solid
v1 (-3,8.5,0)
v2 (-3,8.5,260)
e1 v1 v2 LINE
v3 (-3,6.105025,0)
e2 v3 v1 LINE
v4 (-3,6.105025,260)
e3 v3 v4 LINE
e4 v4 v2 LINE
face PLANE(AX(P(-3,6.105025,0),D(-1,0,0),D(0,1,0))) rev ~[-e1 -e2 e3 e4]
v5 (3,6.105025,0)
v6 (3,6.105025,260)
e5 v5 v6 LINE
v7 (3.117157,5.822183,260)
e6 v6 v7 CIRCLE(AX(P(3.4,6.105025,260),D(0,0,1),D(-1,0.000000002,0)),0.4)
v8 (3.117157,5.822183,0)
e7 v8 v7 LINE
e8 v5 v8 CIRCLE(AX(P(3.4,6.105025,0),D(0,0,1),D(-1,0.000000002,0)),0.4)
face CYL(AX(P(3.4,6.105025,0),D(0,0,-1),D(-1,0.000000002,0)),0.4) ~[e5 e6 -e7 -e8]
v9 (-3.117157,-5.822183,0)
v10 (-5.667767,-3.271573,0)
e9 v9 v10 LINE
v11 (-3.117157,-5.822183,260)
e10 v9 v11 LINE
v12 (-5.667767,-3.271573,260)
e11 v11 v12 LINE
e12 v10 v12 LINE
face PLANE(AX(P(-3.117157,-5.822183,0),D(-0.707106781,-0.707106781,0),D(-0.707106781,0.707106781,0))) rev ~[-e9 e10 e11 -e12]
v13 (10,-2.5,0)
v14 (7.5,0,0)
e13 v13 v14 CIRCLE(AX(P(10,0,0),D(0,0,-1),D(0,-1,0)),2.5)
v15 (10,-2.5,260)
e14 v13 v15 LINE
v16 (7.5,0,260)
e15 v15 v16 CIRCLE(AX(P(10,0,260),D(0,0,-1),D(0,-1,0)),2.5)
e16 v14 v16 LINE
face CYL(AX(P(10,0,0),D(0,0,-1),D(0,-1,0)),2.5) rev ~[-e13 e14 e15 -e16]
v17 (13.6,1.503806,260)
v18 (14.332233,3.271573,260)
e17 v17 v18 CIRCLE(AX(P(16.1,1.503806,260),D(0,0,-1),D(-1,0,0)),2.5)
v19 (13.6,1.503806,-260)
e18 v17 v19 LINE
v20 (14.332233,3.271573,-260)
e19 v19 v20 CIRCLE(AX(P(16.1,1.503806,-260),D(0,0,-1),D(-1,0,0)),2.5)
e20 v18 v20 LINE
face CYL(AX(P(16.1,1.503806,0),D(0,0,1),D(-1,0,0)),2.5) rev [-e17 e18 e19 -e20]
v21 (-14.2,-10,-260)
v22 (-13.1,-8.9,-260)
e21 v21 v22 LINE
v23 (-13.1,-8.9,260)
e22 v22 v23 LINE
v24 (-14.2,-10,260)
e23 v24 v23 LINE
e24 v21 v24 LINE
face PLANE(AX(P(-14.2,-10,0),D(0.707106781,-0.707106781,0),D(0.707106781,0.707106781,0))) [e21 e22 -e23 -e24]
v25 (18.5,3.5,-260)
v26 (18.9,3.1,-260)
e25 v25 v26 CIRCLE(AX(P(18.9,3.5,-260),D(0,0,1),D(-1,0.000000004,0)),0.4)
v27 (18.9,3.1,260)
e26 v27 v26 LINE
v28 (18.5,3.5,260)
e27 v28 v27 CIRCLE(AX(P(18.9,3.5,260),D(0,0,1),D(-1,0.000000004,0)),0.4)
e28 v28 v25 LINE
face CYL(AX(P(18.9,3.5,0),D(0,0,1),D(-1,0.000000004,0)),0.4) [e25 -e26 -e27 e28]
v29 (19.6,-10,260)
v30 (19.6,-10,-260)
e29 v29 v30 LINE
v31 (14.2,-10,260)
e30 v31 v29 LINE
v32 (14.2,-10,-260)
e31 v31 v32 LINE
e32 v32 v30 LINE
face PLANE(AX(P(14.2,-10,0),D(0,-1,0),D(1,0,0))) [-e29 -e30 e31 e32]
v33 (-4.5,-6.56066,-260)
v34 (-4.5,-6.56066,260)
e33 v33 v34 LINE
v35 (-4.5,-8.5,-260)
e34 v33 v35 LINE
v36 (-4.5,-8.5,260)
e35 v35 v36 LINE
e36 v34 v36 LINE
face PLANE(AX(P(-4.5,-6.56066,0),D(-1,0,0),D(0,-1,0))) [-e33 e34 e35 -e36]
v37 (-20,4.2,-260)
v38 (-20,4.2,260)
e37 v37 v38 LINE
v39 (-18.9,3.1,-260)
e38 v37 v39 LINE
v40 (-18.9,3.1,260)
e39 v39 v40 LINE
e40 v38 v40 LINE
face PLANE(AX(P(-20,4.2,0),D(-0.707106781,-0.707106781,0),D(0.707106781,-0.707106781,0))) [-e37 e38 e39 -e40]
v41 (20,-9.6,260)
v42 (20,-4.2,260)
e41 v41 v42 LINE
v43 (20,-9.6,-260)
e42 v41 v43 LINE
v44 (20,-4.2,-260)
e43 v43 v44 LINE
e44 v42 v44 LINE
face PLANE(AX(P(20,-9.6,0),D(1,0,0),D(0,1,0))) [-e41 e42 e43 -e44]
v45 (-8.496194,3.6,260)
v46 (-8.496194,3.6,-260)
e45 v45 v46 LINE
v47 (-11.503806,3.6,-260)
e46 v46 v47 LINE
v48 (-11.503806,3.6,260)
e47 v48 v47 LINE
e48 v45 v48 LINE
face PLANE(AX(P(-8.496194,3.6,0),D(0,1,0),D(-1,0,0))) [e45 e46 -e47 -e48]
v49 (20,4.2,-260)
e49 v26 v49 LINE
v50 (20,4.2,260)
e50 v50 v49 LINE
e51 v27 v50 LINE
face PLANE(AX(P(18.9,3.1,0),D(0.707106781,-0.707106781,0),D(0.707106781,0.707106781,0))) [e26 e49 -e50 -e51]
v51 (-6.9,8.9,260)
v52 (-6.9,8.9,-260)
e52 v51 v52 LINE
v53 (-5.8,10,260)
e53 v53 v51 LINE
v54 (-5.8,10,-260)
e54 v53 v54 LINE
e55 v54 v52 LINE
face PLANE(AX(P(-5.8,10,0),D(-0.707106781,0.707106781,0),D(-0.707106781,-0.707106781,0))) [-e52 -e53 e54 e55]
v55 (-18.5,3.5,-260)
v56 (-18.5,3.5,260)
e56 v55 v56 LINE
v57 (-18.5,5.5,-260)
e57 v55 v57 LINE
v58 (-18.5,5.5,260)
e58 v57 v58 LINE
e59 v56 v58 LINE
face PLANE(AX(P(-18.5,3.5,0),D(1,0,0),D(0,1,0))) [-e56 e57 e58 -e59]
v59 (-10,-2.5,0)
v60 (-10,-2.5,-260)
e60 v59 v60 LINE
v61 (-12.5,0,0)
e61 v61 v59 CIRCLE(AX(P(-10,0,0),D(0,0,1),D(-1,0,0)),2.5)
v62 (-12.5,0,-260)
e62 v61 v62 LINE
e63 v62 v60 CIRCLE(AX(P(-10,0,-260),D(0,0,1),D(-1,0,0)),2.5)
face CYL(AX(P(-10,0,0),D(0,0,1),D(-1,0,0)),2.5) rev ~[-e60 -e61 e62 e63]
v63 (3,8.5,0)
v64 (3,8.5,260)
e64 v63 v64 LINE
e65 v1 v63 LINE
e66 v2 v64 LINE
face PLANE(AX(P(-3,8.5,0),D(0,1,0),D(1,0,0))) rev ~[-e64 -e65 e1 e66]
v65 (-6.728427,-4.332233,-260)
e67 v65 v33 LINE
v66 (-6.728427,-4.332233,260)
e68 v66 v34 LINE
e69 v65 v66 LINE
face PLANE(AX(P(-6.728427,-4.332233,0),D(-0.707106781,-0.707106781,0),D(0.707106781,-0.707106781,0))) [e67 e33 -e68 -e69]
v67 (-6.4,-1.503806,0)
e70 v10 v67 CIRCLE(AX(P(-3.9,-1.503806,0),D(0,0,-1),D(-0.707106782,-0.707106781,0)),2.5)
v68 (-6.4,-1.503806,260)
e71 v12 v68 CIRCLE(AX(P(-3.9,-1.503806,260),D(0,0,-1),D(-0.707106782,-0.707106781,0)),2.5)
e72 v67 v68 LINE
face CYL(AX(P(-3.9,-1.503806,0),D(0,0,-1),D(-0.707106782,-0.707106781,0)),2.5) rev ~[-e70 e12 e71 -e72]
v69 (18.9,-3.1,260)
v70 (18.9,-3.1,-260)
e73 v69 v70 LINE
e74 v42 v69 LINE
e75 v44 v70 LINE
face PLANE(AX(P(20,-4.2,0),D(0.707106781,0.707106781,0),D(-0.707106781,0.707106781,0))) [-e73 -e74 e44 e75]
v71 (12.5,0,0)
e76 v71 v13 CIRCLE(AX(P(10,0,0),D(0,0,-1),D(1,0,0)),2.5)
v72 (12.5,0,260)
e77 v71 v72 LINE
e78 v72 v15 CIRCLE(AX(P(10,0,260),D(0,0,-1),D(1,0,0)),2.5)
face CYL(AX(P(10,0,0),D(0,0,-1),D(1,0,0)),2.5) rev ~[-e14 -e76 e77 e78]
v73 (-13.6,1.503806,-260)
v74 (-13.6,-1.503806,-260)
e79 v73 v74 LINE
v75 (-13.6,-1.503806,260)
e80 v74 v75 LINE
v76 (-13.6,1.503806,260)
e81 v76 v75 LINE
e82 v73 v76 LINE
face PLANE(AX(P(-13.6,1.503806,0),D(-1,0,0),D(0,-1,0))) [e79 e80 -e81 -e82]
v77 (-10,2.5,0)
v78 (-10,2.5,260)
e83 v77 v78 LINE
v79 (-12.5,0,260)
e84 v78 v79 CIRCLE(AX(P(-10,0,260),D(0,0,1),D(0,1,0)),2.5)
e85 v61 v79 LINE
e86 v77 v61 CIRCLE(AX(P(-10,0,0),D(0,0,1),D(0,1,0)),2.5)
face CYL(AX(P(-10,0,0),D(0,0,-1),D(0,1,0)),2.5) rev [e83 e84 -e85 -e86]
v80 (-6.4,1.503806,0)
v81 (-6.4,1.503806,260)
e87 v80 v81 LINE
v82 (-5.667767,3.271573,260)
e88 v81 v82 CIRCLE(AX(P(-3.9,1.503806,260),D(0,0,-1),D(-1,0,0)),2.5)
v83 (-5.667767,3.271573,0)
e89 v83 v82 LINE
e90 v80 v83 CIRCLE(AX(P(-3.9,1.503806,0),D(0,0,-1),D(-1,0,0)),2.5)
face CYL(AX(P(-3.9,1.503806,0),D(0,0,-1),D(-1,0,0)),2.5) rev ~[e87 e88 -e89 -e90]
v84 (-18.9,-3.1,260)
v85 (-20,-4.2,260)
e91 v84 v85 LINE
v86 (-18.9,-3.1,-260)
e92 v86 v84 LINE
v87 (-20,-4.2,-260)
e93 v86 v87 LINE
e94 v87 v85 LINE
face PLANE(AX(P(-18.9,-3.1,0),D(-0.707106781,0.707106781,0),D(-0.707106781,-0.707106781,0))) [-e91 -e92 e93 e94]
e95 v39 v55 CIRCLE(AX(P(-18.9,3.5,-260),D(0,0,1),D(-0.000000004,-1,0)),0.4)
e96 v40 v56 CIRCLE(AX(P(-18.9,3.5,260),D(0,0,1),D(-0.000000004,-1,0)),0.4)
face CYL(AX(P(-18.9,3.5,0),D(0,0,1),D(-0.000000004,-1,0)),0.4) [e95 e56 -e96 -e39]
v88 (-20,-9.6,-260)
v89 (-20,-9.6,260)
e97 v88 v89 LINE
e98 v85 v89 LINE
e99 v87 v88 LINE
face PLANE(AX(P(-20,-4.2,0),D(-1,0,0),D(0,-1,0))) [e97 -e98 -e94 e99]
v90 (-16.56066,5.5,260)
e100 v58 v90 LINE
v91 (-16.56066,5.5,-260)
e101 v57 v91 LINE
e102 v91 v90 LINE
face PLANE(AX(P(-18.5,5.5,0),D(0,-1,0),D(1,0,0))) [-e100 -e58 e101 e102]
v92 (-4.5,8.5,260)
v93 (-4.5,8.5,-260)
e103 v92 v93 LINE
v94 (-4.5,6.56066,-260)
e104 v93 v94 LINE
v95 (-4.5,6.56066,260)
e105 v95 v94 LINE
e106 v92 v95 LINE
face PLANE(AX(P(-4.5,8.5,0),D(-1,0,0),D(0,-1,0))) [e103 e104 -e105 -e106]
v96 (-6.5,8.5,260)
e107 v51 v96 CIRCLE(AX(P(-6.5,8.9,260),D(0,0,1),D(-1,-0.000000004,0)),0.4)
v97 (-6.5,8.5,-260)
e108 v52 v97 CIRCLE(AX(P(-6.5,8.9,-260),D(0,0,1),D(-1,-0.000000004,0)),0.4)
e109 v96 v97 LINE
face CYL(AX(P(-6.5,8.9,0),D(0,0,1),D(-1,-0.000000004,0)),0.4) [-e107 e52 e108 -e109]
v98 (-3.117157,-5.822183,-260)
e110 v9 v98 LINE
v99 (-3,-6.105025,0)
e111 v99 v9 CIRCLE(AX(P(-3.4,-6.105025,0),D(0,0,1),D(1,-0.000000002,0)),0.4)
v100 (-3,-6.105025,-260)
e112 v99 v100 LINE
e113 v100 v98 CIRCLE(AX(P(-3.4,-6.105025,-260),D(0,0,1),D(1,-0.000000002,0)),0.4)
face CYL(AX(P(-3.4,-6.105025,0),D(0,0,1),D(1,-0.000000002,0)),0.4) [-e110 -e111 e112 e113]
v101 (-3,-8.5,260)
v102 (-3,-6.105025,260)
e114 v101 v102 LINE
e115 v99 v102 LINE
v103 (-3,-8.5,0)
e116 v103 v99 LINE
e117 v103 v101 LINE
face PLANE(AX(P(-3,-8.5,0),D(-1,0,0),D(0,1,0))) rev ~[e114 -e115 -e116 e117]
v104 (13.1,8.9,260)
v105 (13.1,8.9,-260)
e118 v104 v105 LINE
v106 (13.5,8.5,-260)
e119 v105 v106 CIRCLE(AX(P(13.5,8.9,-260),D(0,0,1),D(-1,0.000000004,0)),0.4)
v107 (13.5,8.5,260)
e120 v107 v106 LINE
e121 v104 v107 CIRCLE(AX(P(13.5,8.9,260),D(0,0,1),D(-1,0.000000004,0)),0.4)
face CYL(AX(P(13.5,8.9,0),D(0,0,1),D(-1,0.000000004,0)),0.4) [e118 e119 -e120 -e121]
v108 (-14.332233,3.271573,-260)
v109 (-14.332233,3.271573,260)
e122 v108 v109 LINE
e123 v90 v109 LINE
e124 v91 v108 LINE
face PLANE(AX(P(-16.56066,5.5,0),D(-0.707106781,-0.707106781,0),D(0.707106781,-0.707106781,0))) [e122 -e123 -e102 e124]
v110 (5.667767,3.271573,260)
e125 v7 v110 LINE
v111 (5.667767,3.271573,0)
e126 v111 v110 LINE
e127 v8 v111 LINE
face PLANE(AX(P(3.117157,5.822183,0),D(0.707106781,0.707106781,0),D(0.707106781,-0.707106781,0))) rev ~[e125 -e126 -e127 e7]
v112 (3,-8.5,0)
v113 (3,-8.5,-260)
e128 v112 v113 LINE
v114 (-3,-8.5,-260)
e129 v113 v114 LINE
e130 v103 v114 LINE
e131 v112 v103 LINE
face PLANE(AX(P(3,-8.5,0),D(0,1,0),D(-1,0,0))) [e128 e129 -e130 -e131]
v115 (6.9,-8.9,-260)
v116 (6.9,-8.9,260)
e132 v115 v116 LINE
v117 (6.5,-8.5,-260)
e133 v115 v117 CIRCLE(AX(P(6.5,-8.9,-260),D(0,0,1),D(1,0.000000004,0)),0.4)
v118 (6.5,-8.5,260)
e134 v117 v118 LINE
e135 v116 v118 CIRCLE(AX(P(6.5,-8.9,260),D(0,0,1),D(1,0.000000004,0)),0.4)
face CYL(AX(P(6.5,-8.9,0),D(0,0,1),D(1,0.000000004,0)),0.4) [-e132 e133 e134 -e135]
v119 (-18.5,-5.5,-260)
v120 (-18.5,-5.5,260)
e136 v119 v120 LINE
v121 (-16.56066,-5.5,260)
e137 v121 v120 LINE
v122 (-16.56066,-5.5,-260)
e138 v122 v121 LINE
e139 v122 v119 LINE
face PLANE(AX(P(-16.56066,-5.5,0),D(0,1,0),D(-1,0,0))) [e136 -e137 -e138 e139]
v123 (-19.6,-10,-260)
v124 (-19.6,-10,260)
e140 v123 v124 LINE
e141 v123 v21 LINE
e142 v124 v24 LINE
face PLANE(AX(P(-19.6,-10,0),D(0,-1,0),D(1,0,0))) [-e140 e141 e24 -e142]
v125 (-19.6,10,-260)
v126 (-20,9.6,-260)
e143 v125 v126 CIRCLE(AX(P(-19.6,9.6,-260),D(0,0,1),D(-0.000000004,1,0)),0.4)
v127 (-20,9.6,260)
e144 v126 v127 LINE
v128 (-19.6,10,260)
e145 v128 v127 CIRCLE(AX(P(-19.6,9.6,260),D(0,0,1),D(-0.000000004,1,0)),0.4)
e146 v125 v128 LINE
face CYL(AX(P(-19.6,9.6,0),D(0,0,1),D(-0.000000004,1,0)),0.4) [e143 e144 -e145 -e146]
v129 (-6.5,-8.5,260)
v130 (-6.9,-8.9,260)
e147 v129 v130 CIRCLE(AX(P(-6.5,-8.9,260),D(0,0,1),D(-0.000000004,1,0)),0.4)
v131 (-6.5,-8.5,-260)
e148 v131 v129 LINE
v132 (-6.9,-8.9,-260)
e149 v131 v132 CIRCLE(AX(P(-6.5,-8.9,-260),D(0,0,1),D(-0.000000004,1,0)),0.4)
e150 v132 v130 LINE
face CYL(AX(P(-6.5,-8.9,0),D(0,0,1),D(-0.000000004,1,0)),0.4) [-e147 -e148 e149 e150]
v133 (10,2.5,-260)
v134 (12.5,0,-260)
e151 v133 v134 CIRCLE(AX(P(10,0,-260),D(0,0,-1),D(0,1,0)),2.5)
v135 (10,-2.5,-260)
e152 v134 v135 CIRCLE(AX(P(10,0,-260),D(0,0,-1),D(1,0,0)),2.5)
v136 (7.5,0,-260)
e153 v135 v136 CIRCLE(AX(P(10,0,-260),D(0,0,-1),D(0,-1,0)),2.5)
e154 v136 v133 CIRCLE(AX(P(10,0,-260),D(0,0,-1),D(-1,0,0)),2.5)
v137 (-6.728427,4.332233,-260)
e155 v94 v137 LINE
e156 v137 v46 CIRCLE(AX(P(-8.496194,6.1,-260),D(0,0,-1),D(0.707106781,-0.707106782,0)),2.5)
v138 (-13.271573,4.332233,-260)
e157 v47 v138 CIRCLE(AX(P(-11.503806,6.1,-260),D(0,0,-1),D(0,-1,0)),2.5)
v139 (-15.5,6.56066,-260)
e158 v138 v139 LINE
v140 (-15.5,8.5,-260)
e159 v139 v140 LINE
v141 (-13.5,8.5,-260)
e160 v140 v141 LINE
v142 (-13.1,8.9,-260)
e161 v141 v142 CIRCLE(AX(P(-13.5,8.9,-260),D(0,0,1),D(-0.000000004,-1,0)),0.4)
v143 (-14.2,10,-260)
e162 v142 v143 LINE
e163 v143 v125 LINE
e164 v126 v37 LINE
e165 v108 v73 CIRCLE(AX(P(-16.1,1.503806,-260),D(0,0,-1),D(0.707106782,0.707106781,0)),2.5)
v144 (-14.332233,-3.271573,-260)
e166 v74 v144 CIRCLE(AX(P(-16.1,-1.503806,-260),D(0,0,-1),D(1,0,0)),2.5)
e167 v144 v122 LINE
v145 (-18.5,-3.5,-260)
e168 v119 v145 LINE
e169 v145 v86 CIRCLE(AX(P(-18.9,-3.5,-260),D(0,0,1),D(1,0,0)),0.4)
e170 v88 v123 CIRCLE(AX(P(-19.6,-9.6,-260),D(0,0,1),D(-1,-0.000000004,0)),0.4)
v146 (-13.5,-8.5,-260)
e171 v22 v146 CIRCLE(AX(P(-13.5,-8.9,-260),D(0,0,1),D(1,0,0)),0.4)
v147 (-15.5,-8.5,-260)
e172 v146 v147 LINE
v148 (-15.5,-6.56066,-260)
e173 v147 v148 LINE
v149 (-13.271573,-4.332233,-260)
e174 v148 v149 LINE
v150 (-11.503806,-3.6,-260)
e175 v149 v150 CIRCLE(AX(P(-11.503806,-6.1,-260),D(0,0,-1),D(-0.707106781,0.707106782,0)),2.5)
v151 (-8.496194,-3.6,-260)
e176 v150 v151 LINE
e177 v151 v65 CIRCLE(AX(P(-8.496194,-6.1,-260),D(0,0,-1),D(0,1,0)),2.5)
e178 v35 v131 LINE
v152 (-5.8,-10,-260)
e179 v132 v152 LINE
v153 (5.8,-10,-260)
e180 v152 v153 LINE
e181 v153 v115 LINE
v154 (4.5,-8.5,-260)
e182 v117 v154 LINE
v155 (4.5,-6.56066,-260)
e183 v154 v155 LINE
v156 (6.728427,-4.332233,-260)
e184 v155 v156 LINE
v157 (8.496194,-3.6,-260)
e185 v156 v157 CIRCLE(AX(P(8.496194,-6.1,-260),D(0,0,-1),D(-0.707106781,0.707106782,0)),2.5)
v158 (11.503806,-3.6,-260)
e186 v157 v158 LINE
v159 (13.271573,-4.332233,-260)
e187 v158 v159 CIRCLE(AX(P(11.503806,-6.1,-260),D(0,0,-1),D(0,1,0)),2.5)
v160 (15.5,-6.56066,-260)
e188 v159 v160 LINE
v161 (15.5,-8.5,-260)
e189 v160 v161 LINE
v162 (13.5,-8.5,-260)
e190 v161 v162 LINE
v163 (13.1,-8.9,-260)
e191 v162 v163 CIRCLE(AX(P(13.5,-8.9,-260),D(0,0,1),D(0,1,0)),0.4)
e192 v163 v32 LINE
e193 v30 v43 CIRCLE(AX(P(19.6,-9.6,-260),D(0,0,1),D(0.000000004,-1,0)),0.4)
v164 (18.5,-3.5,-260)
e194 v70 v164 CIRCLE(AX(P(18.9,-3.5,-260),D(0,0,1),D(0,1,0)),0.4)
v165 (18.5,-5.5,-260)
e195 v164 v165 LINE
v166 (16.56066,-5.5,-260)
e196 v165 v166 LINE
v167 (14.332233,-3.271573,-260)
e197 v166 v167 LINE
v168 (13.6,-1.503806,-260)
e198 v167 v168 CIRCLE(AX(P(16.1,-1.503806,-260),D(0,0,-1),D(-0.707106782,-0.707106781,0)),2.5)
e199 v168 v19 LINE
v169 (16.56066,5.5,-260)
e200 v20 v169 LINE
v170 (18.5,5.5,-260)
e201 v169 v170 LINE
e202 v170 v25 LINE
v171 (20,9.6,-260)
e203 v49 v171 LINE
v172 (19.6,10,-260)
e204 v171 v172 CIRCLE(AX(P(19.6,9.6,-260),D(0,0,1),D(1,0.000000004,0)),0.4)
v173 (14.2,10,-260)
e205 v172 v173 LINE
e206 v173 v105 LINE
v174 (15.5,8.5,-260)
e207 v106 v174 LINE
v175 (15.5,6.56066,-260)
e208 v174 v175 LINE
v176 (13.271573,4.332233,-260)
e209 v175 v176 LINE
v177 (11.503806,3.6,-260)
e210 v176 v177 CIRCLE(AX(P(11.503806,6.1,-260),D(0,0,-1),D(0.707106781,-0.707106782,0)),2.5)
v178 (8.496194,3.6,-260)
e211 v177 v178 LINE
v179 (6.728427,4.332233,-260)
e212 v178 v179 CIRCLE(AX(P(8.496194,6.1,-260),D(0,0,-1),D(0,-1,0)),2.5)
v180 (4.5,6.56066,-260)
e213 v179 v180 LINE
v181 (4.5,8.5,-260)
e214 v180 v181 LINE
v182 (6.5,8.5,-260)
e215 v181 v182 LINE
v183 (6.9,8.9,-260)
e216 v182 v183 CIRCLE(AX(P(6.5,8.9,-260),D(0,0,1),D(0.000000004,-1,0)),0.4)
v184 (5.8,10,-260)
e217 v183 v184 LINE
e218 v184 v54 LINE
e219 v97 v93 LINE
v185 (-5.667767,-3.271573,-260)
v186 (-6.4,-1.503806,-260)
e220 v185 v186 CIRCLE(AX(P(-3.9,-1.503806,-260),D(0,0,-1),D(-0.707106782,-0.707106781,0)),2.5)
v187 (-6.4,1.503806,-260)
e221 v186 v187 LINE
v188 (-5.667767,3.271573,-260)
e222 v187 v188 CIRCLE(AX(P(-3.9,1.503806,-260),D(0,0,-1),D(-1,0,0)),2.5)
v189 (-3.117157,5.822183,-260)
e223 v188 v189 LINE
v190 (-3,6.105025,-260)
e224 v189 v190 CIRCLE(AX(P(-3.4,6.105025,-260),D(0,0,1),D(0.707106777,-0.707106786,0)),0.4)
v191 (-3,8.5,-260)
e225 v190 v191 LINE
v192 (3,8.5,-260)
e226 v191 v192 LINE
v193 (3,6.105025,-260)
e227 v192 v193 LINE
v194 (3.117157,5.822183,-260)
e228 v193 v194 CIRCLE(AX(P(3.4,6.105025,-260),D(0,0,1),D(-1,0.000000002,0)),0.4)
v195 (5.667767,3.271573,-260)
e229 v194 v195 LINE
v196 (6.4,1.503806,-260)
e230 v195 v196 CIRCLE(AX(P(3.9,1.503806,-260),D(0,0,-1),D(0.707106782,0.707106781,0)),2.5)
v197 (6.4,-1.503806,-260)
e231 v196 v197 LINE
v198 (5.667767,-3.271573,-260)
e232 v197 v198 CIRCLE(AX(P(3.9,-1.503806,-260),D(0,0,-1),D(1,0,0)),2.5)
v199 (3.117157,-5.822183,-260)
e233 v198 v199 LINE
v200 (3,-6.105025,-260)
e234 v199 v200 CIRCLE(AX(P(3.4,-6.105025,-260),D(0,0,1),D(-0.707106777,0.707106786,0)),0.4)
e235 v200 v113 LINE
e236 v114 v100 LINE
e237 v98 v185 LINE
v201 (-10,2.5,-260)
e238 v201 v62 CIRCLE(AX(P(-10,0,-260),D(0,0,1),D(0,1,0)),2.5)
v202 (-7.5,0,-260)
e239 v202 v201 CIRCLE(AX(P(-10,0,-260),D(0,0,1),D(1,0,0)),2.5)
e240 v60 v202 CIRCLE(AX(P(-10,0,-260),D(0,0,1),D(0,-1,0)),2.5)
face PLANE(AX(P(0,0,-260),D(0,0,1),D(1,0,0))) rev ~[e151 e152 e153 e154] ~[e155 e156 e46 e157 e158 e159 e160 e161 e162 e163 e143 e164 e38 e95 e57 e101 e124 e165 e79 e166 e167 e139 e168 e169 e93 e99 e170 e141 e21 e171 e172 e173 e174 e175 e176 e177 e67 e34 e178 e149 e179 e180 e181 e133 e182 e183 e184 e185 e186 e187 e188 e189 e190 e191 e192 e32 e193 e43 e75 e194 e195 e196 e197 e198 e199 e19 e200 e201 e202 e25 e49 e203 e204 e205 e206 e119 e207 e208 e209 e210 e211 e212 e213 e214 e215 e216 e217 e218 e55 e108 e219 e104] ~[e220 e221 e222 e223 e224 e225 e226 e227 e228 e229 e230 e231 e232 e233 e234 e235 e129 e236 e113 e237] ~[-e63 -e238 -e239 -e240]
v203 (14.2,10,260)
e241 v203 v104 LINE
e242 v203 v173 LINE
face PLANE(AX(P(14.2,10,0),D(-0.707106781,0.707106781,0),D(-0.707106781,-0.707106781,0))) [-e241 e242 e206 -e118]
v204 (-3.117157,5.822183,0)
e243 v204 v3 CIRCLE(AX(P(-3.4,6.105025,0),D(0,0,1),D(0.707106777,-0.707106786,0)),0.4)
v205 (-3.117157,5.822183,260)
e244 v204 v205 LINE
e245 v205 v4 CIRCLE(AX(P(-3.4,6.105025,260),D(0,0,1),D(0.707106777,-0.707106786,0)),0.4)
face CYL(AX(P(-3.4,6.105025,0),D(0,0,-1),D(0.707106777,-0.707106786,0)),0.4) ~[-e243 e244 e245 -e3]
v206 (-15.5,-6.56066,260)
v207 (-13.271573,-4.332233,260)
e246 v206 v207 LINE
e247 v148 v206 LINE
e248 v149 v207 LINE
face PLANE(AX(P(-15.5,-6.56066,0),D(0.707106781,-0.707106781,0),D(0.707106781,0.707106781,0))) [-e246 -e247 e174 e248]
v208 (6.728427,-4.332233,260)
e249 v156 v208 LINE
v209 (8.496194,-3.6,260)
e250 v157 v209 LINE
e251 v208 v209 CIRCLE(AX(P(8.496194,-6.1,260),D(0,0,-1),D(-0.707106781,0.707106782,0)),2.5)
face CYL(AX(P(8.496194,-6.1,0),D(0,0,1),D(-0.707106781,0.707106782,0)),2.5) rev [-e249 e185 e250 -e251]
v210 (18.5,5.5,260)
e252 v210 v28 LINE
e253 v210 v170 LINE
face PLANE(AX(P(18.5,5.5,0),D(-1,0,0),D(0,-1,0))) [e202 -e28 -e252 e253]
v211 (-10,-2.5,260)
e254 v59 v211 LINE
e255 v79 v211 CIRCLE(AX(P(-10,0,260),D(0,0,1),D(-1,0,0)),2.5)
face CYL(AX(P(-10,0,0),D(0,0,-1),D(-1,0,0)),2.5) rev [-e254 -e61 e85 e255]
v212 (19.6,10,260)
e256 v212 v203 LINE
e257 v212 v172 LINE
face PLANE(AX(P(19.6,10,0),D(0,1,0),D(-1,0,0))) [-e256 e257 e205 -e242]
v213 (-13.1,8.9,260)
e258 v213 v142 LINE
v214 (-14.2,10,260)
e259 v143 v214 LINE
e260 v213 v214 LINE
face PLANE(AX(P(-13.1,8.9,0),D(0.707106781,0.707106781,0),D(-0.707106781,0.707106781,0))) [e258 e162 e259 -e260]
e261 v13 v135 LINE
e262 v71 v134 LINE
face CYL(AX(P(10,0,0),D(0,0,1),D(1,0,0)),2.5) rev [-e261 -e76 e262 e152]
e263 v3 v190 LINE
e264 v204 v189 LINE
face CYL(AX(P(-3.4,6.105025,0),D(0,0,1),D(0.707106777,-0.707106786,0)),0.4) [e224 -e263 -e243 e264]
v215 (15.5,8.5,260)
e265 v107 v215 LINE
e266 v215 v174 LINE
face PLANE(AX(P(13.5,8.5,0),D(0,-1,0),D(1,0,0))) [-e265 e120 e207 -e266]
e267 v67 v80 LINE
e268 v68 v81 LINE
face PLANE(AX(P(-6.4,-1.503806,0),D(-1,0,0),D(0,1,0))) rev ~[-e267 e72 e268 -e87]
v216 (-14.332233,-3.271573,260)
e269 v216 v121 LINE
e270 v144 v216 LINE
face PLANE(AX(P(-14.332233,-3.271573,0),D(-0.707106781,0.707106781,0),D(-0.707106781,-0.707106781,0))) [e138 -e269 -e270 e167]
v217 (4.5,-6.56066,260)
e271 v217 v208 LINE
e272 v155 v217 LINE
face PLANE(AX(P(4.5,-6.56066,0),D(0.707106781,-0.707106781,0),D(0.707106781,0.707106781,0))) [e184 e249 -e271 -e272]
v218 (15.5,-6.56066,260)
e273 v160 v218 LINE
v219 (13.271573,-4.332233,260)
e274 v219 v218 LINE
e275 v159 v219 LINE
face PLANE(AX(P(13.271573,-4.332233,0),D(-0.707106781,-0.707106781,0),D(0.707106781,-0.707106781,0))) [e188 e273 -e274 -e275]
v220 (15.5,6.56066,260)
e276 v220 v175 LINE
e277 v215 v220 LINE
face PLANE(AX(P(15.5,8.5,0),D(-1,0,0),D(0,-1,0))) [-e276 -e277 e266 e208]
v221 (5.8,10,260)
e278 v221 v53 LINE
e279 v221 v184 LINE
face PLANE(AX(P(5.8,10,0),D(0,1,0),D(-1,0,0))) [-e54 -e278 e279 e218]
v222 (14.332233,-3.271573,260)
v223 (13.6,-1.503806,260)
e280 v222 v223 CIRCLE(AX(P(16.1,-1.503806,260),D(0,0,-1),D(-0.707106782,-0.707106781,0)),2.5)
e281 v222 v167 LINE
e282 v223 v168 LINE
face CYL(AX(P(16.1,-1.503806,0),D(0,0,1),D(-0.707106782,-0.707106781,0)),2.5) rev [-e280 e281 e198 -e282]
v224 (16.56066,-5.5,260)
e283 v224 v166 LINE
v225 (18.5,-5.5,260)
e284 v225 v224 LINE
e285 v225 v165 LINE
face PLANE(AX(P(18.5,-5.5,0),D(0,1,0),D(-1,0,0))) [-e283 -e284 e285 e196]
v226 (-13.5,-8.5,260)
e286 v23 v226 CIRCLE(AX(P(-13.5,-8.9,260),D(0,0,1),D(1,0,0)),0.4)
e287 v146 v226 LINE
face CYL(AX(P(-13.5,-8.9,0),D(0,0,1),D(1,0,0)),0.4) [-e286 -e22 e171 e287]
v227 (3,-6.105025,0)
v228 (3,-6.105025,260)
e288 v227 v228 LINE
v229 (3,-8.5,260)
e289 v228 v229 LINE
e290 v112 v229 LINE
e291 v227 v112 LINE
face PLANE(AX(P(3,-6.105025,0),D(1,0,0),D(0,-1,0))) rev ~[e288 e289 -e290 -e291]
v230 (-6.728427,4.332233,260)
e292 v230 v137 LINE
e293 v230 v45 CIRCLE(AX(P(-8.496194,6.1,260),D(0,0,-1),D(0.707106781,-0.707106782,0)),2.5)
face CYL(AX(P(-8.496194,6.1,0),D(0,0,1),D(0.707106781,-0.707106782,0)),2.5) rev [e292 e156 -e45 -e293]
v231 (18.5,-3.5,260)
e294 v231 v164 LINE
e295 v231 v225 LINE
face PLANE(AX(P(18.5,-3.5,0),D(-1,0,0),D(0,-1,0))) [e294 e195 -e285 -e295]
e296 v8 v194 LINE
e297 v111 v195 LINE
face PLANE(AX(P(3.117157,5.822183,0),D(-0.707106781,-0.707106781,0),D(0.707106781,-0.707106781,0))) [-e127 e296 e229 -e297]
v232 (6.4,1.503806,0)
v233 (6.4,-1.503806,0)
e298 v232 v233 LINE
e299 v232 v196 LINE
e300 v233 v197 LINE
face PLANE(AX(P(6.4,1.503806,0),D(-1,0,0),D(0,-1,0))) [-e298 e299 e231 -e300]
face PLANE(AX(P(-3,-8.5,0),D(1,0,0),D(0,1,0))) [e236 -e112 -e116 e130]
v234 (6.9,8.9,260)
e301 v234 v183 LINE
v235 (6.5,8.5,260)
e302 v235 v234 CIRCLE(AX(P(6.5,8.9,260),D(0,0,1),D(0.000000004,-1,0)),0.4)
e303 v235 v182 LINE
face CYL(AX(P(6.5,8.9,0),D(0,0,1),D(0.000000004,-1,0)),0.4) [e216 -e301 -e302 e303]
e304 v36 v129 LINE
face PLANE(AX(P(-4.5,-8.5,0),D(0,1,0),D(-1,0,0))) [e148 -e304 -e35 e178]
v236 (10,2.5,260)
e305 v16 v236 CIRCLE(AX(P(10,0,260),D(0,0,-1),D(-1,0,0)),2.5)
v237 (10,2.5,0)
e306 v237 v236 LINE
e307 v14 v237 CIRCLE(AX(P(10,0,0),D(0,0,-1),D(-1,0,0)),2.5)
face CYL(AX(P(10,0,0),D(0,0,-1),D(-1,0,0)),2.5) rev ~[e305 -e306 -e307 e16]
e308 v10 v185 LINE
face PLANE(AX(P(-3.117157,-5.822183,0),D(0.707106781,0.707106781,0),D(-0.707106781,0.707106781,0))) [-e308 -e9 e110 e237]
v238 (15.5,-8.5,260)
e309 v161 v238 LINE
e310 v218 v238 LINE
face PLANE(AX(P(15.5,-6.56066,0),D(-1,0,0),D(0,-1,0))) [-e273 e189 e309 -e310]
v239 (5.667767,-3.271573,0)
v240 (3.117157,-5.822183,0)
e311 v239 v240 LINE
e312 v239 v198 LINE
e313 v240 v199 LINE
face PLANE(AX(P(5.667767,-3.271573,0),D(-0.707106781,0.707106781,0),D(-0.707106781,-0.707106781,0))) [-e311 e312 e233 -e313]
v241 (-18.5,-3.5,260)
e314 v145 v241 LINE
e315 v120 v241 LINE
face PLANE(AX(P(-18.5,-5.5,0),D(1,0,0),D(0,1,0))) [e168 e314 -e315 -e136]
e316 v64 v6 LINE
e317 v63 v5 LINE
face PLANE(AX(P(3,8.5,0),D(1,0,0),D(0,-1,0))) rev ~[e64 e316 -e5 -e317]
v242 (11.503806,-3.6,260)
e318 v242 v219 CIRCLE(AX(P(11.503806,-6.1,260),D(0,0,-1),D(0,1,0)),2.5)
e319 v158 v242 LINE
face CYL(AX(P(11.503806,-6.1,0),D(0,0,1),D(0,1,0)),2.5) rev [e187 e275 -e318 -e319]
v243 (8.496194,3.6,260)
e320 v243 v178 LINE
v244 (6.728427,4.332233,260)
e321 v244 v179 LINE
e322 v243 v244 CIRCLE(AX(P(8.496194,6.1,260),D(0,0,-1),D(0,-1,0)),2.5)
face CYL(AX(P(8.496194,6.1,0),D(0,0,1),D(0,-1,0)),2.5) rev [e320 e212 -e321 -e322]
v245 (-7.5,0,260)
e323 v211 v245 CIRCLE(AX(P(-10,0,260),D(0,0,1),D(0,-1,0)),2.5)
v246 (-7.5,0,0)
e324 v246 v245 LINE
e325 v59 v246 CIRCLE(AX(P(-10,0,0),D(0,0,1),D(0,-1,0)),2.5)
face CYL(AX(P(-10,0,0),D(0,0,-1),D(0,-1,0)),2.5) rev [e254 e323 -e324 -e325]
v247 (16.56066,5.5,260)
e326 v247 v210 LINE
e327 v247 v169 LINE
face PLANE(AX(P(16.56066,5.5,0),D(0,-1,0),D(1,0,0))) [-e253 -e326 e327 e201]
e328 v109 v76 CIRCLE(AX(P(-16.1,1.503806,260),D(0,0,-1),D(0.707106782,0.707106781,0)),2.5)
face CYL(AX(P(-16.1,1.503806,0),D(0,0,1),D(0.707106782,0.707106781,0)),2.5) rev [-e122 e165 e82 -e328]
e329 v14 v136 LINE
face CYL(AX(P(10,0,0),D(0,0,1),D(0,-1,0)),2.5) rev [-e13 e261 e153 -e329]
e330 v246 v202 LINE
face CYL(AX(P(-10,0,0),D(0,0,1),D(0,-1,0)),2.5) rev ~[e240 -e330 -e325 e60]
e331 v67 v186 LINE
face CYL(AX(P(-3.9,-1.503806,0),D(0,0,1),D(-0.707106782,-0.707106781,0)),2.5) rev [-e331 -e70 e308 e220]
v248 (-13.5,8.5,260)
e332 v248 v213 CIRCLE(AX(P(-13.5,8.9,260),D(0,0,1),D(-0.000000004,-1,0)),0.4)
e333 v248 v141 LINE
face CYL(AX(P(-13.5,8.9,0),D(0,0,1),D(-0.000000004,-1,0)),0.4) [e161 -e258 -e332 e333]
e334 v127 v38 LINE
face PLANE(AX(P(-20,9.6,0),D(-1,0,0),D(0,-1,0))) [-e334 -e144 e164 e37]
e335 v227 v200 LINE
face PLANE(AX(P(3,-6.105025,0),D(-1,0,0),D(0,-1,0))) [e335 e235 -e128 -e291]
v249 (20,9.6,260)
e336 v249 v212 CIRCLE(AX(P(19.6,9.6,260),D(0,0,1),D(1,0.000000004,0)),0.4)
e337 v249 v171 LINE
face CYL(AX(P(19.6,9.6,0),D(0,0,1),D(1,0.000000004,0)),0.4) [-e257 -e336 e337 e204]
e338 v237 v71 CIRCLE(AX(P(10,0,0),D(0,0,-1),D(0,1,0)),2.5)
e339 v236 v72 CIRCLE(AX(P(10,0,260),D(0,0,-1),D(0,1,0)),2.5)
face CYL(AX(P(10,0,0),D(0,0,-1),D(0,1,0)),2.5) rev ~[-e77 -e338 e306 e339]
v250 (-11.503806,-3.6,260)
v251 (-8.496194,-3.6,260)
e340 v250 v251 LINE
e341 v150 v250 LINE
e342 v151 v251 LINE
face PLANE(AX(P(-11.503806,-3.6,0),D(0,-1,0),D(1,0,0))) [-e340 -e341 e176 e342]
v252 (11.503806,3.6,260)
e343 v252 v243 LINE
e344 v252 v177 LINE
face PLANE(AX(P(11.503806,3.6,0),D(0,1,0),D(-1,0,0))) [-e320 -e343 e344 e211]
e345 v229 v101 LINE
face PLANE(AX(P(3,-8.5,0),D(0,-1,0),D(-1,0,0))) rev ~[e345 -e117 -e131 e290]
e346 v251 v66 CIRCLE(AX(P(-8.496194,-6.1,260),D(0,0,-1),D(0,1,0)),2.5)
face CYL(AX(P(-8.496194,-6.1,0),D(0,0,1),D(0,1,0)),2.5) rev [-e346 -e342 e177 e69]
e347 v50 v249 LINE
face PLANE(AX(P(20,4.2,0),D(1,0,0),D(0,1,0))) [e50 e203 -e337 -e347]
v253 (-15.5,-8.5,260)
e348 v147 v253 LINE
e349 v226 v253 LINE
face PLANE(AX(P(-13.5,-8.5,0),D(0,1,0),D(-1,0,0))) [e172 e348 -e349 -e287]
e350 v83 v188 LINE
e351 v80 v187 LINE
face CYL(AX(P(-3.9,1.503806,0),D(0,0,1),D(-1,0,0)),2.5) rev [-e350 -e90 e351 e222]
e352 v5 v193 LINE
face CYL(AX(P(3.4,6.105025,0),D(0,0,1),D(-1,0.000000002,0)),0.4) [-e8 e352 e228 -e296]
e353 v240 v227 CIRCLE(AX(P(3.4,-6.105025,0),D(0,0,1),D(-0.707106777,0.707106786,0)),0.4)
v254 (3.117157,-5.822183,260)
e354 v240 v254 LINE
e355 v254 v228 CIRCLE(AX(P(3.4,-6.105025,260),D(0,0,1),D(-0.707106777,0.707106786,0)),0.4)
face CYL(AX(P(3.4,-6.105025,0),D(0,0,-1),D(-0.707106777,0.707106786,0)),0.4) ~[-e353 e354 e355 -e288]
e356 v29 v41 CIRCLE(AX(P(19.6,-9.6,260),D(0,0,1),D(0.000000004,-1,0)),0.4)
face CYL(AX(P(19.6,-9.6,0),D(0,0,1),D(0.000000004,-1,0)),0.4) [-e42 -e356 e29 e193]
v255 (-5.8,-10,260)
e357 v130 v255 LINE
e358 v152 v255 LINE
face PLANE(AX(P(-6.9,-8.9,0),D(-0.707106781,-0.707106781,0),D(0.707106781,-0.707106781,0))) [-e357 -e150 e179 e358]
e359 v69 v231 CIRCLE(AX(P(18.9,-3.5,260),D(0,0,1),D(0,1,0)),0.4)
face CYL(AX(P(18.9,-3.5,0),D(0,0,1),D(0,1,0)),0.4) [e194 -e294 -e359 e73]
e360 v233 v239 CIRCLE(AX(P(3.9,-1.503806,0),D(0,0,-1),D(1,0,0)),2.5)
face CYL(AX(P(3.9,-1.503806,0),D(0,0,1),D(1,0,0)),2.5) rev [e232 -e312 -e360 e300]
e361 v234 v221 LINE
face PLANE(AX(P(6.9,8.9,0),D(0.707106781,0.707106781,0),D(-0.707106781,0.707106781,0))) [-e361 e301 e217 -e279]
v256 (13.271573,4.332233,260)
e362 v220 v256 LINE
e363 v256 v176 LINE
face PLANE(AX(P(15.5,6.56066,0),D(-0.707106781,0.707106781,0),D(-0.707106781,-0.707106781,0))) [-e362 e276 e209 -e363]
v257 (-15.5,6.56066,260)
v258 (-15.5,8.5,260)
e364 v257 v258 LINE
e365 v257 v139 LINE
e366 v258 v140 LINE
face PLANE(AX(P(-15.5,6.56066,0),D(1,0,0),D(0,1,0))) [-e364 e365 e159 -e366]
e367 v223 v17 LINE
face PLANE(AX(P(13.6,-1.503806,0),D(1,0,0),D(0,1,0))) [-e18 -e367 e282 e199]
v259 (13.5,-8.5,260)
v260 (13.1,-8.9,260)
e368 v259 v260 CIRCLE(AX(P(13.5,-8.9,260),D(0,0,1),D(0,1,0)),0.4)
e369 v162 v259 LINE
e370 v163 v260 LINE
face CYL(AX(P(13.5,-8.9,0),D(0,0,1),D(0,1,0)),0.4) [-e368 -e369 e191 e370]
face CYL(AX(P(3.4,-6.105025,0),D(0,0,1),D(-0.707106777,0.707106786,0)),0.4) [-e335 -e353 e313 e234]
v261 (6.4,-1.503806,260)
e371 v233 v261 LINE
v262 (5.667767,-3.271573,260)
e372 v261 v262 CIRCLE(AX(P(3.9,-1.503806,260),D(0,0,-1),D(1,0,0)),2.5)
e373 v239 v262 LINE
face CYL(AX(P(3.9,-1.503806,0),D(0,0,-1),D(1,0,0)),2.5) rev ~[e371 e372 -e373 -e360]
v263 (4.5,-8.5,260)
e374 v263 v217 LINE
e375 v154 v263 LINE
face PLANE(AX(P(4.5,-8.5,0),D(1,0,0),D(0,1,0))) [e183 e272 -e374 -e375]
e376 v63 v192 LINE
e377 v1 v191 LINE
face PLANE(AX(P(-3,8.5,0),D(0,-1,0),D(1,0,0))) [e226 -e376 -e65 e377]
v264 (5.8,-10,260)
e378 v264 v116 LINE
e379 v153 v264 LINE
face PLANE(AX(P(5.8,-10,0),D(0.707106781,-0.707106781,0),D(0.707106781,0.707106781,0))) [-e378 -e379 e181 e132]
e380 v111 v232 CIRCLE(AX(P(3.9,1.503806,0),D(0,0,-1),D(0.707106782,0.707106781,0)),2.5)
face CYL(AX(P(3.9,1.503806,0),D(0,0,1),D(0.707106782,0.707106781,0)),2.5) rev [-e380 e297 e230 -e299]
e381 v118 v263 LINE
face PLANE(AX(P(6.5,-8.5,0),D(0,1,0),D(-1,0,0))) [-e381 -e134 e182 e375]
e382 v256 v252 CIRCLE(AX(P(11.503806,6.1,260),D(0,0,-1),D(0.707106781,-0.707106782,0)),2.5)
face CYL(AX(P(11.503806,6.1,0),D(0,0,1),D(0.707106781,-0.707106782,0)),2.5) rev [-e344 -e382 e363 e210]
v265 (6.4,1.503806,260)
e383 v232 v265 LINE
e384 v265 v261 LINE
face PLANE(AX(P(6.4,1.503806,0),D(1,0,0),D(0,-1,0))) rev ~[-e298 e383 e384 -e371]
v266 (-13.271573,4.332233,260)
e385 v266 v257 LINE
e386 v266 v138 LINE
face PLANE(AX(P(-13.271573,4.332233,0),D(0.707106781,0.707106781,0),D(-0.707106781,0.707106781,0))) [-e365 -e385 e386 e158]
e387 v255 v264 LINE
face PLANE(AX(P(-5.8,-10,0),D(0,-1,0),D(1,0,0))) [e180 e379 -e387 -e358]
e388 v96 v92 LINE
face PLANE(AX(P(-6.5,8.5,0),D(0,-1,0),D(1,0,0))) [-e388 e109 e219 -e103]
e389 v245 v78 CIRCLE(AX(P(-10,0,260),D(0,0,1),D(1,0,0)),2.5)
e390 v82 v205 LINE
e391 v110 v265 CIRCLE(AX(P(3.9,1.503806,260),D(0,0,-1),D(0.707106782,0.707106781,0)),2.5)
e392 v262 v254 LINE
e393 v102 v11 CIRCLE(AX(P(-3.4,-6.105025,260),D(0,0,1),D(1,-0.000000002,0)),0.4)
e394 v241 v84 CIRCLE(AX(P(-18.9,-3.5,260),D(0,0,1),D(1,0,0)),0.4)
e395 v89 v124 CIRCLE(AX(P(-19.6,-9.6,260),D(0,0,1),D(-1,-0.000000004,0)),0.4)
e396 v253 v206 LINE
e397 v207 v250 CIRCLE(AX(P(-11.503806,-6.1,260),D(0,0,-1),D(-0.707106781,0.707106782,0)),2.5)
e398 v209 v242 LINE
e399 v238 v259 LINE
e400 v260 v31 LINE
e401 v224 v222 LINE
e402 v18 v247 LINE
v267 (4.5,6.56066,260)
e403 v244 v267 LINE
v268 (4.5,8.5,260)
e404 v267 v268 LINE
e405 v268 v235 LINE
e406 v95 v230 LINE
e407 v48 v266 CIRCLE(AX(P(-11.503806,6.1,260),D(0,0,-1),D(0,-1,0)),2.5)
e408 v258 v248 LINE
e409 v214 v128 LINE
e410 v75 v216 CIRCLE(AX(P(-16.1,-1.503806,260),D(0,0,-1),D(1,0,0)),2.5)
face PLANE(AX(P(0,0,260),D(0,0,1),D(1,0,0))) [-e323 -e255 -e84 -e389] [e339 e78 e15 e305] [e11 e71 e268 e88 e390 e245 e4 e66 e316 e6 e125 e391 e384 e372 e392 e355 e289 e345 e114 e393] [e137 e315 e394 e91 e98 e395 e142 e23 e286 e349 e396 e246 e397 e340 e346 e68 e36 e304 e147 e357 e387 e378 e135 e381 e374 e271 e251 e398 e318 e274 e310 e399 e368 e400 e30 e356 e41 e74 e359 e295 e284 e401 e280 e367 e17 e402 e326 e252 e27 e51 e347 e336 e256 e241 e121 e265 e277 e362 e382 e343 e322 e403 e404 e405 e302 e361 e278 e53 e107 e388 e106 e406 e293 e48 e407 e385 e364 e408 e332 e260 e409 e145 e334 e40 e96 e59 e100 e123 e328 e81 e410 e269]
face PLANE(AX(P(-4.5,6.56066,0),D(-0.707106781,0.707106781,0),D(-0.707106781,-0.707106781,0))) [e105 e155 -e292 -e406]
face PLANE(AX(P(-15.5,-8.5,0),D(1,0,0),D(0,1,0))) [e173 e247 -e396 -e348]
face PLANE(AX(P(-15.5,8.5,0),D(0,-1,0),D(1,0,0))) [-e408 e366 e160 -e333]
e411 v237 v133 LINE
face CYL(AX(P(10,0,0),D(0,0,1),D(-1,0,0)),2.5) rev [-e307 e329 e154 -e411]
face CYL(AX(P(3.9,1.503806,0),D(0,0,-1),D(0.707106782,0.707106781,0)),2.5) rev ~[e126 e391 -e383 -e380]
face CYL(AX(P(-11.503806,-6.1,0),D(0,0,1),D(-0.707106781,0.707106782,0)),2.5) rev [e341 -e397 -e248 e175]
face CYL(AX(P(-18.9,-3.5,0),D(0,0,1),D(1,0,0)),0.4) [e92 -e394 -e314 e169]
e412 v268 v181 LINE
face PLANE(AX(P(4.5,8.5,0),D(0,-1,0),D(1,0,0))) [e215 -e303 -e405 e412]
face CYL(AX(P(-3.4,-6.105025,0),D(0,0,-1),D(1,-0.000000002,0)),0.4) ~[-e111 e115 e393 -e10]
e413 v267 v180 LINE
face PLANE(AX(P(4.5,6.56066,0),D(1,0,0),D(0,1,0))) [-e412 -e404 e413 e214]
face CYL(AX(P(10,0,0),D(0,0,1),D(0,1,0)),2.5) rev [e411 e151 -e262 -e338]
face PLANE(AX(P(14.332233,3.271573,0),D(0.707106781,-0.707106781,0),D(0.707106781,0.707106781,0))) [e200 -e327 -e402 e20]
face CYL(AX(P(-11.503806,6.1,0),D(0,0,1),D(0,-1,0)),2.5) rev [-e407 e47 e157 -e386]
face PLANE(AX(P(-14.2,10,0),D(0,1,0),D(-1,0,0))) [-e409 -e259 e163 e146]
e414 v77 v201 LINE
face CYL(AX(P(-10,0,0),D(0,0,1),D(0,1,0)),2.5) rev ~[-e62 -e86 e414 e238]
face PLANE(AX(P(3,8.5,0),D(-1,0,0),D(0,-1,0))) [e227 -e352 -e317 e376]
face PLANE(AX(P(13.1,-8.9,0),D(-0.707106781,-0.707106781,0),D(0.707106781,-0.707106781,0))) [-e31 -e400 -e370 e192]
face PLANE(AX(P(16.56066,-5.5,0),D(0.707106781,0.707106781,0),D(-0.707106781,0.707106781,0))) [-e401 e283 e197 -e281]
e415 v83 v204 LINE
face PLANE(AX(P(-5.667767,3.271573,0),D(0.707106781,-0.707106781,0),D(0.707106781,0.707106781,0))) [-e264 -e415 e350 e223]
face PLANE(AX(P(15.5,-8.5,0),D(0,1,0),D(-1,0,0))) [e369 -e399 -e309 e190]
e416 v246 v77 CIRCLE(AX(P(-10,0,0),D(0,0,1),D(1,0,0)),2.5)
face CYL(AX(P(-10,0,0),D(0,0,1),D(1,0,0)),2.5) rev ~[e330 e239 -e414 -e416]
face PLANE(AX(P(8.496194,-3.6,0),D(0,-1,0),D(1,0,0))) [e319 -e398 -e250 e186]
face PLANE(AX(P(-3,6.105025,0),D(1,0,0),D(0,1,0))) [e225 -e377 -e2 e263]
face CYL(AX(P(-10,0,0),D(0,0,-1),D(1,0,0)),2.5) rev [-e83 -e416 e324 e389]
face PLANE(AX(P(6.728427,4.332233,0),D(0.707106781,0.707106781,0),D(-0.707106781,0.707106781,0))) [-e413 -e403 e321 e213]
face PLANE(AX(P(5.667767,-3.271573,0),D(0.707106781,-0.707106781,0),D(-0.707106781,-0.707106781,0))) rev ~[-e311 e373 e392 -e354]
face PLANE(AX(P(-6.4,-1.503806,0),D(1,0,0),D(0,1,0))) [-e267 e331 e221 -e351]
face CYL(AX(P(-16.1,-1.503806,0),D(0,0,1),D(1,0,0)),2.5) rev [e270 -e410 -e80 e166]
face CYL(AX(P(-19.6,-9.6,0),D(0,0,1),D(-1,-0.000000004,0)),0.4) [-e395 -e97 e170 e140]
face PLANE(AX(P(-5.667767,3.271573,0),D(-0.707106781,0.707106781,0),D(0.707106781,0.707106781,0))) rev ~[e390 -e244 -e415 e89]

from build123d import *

# Parameters (mm, degrees)
RESSALTO_EXTRUS_O1_DEPTH = 260


with BuildPart() as part:
    # Esboço1 → Ressalto-extrusão1 (new body, symmetric)
    with BuildSketch(Plane.XY):
        with BuildLine():
            Line((-13.1, 8.9), (-14.2, 10))
            Line((-14.2, 10), (-19.6, 10))
            ThreePointArc((-19.6, 10), (-19.882842712, 9.882842712), (-20, 9.6))
            Line((-20, 9.6), (-20, 4.2))
            Line((-20, 4.2), (-18.9, 3.1))
            ThreePointArc((-18.9, 3.1), (-18.617157287, 3.217157287), (-18.5, 3.5))
            Line((-18.5, 3.5), (-18.5, 5.5))
            Line((-18.5, 5.5), (-16.560660172, 5.5))
            Line((-16.560660172, 5.5), (-14.332233047, 3.271572875))
            ThreePointArc((-14.332233047, 3.271572875), (-13.790301169, 2.460514503), (-13.6, 1.503805922))
            Line((-13.6, 1.503805922), (-13.6, 0))
            Line((-13.6, 0), (-13.6, -1.503805922))
            ThreePointArc((-13.6, -1.503805922), (-13.790301169, -2.460514503), (-14.332233047, -3.271572875))
            Line((-14.332233047, -3.271572875), (-16.560660172, -5.5))
            Line((-16.560660172, -5.5), (-18.5, -5.5))
            Line((-18.5, -5.5), (-18.5, -3.5))
            ThreePointArc((-18.5, -3.5), (-18.617157287, -3.217157288), (-18.9, -3.1))
            Line((-18.9, -3.1), (-20, -4.2))
            Line((-20, -4.2), (-20, -9.6))
            ThreePointArc((-20, -9.6), (-19.882842712, -9.882842712), (-19.6, -10))
            Line((-19.6, -10), (-14.2, -10))
            Line((-14.2, -10), (-13.1, -8.9))
            ThreePointArc((-13.1, -8.9), (-13.217157287, -8.617157288), (-13.5, -8.5))
            Line((-13.5, -8.5), (-15.5, -8.5))
            Line((-15.5, -8.5), (-15.5, -6.560660172))
            Line((-15.5, -6.560660172), (-13.271572875, -4.332233047))
            ThreePointArc((-13.271572875, -4.332233047), (-12.460514503, -3.790301169), (-11.503805922, -3.6))
            Line((-11.503805922, -3.6), (-10, -3.6))
            Line((-10, -3.6), (-8.496194078, -3.6))
            ThreePointArc((-8.496194078, -3.6), (-7.539485497, -3.790301169), (-6.728427125, -4.332233047))
            Line((-6.728427125, -4.332233047), (-4.5, -6.560660172))
            Line((-4.5, -6.560660172), (-4.5, -8.5))
            Line((-4.5, -8.5), (-6.5, -8.5))
            ThreePointArc((-6.5, -8.5), (-6.782842712, -8.617157288), (-6.9, -8.9))
            Line((-6.9, -8.9), (-5.8, -10))
            Line((-5.8, -10), (5.8, -10))
            Line((5.8, -10), (6.9, -8.9))
            ThreePointArc((6.9, -8.9), (6.782842712, -8.617157288), (6.5, -8.5))
            Line((6.5, -8.5), (4.5, -8.5))
            Line((4.5, -8.5), (4.5, -6.560660172))
            Line((4.5, -6.560660172), (6.728427125, -4.332233047))
            ThreePointArc((6.728427125, -4.332233047), (7.539485497, -3.790301169), (8.496194078, -3.6))
            Line((8.496194078, -3.6), (10, -3.6))
            Line((10, -3.6), (11.503805922, -3.6))
            ThreePointArc((11.503805922, -3.6), (12.460514503, -3.790301169), (13.271572875, -4.332233047))
            Line((13.271572875, -4.332233047), (15.5, -6.560660172))
            Line((15.5, -6.560660172), (15.5, -8.5))
            Line((15.5, -8.5), (13.5, -8.5))
            ThreePointArc((13.5, -8.5), (13.217157287, -8.617157288), (13.1, -8.9))
            Line((13.1, -8.9), (14.2, -10))
            Line((14.2, -10), (19.6, -10))
            ThreePointArc((19.6, -10), (19.882842712, -9.882842712), (20, -9.6))
            Line((20, -9.6), (20, -4.2))
            Line((20, -4.2), (18.9, -3.1))
            ThreePointArc((18.9, -3.1), (18.617157287, -3.217157288), (18.5, -3.5))
            Line((18.5, -3.5), (18.5, -5.5))
            Line((18.5, -5.5), (16.560660172, -5.5))
            Line((16.560660172, -5.5), (14.332233047, -3.271572875))
            ThreePointArc((14.332233047, -3.271572875), (13.790301169, -2.460514503), (13.6, -1.503805922))
            Line((13.6, -1.503805922), (13.6, 0))
            Line((13.6, 0), (13.6, 1.503805922))
            ThreePointArc((13.6, 1.503805922), (13.790301169, 2.460514503), (14.332233047, 3.271572875))
            Line((14.332233047, 3.271572875), (16.560660172, 5.5))
            Line((16.560660172, 5.5), (18.5, 5.5))
            Line((18.5, 5.5), (18.5, 3.5))
            ThreePointArc((18.5, 3.5), (18.617157287, 3.217157287), (18.9, 3.1))
            Line((18.9, 3.1), (20, 4.2))
            Line((20, 4.2), (20, 9.6))
            ThreePointArc((20, 9.6), (19.882842712, 9.882842712), (19.6, 10))
            Line((19.6, 10), (14.2, 10))
            Line((14.2, 10), (13.1, 8.9))
            ThreePointArc((13.1, 8.9), (13.217157287, 8.617157287), (13.5, 8.5))
            Line((13.5, 8.5), (15.5, 8.5))
            Line((15.5, 8.5), (15.5, 6.560660172))
            Line((15.5, 6.560660172), (13.271572875, 4.332233047))
            ThreePointArc((13.271572875, 4.332233047), (12.460514503, 3.790301169), (11.503805922, 3.6))
            Line((11.503805922, 3.6), (10, 3.6))
            Line((10, 3.6), (8.496194078, 3.6))
            ThreePointArc((8.496194078, 3.6), (7.539485497, 3.790301169), (6.728427125, 4.332233047))
            Line((6.728427125, 4.332233047), (4.5, 6.560660172))
            Line((4.5, 6.560660172), (4.5, 8.5))
            Line((4.5, 8.5), (6.5, 8.5))
            ThreePointArc((6.5, 8.5), (6.782842712, 8.617157288), (6.9, 8.9))
            Line((6.9, 8.9), (5.8, 10))
            Line((5.8, 10), (-5.8, 10))
            Line((-5.8, 10), (-6.9, 8.9))
            ThreePointArc((-6.9, 8.9), (-6.782842712, 8.617157288), (-6.5, 8.5))
            Line((-6.5, 8.5), (-4.5, 8.5))
            Line((-4.5, 8.5), (-4.5, 6.560660172))
            Line((-4.5, 6.560660172), (-6.728427125, 4.332233047))
            ThreePointArc((-6.728427125, 4.332233047), (-7.539485497, 3.790301169), (-8.496194078, 3.6))
            Line((-8.496194078, 3.6), (-10, 3.6))
            Line((-10, 3.6), (-11.503805922, 3.6))
            ThreePointArc((-11.503805922, 3.6), (-12.460514503, 3.790301169), (-13.271572875, 4.332233047))
            Line((-13.271572875, 4.332233047), (-15.5, 6.560660172))
            Line((-15.5, 6.560660172), (-15.5, 8.5))
            Line((-15.5, 8.5), (-13.5, 8.5))
            ThreePointArc((-13.5, 8.5), (-13.217157287, 8.617157287), (-13.1, 8.9))
        make_face()
        with BuildLine():
            Line((-3, 8.5), (3, 8.5))
            Line((3, 8.5), (3, 6.105025253))
            ThreePointArc((3, 6.105025253), (3.030448187, 5.95195188), (3.117157288, 5.822182541))
            Line((3.117157288, 5.822182541), (5.667766953, 3.271572875))
            ThreePointArc((5.667766953, 3.271572875), (6.209698831, 2.460514503), (6.4, 1.503805922))
            Line((6.4, 1.503805922), (6.4, 0))
            Line((6.4, 0), (6.4, -1.503805922))
            ThreePointArc((6.4, -1.503805922), (6.209698831, -2.460514503), (5.667766953, -3.271572875))
            Line((5.667766953, -3.271572875), (3.117157288, -5.822182541))
            ThreePointArc((3.117157288, -5.822182541), (3.030448187, -5.95195188), (3, -6.105025253))
            Line((3, -6.105025253), (3, -8.5))
            Line((3, -8.5), (-3, -8.5))
            Line((-3, -8.5), (-3, -6.105025253))
            ThreePointArc((-3, -6.105025253), (-3.030448187, -5.95195188), (-3.117157288, -5.822182541))
            Line((-3.117157288, -5.822182541), (-5.667766953, -3.271572875))
            ThreePointArc((-5.667766953, -3.271572875), (-6.209698831, -2.460514503), (-6.4, -1.503805922))
            Line((-6.4, -1.503805922), (-6.4, 0))
            Line((-6.4, 0), (-6.4, 1.503805922))
            ThreePointArc((-6.4, 1.503805922), (-6.209698831, 2.460514503), (-5.667766953, 3.271572875))
            Line((-5.667766953, 3.271572875), (-3.117157288, 5.822182541))
            ThreePointArc((-3.117157288, 5.822182541), (-3.030448187, 5.95195188), (-3, 6.105025253))
            Line((-3, 6.105025253), (-3, 8.5))
        make_face(mode=Mode.SUBTRACT)
        with BuildLine():
            ThreePointArc((-10, 2.5), (-11.767766953, 1.767766953), (-12.5, 0))
            ThreePointArc((-12.5, 0), (-11.767766953, -1.767766953), (-10, -2.5))
            ThreePointArc((-10, -2.5), (-8.232233047, -1.767766953), (-7.5, 0))
            ThreePointArc((-7.5, 0), (-8.232233047, 1.767766953), (-10, 2.5))
        make_face(mode=Mode.SUBTRACT)
        with BuildLine():
            ThreePointArc((12.5, 0), (11.767766953, -1.767766953), (10, -2.5))
            ThreePointArc((10, -2.5), (8.232233047, -1.767766953), (7.5, 0))
            ThreePointArc((7.5, 0), (8.232233047, 1.767766953), (10, 2.5))
            ThreePointArc((10, 2.5), (11.767766953, 1.767766953), (12.5, 0))
        make_face(mode=Mode.SUBTRACT)
    extrude(amount=RESSALTO_EXTRUS_O1_DEPTH, both=True)


solid = part.part
